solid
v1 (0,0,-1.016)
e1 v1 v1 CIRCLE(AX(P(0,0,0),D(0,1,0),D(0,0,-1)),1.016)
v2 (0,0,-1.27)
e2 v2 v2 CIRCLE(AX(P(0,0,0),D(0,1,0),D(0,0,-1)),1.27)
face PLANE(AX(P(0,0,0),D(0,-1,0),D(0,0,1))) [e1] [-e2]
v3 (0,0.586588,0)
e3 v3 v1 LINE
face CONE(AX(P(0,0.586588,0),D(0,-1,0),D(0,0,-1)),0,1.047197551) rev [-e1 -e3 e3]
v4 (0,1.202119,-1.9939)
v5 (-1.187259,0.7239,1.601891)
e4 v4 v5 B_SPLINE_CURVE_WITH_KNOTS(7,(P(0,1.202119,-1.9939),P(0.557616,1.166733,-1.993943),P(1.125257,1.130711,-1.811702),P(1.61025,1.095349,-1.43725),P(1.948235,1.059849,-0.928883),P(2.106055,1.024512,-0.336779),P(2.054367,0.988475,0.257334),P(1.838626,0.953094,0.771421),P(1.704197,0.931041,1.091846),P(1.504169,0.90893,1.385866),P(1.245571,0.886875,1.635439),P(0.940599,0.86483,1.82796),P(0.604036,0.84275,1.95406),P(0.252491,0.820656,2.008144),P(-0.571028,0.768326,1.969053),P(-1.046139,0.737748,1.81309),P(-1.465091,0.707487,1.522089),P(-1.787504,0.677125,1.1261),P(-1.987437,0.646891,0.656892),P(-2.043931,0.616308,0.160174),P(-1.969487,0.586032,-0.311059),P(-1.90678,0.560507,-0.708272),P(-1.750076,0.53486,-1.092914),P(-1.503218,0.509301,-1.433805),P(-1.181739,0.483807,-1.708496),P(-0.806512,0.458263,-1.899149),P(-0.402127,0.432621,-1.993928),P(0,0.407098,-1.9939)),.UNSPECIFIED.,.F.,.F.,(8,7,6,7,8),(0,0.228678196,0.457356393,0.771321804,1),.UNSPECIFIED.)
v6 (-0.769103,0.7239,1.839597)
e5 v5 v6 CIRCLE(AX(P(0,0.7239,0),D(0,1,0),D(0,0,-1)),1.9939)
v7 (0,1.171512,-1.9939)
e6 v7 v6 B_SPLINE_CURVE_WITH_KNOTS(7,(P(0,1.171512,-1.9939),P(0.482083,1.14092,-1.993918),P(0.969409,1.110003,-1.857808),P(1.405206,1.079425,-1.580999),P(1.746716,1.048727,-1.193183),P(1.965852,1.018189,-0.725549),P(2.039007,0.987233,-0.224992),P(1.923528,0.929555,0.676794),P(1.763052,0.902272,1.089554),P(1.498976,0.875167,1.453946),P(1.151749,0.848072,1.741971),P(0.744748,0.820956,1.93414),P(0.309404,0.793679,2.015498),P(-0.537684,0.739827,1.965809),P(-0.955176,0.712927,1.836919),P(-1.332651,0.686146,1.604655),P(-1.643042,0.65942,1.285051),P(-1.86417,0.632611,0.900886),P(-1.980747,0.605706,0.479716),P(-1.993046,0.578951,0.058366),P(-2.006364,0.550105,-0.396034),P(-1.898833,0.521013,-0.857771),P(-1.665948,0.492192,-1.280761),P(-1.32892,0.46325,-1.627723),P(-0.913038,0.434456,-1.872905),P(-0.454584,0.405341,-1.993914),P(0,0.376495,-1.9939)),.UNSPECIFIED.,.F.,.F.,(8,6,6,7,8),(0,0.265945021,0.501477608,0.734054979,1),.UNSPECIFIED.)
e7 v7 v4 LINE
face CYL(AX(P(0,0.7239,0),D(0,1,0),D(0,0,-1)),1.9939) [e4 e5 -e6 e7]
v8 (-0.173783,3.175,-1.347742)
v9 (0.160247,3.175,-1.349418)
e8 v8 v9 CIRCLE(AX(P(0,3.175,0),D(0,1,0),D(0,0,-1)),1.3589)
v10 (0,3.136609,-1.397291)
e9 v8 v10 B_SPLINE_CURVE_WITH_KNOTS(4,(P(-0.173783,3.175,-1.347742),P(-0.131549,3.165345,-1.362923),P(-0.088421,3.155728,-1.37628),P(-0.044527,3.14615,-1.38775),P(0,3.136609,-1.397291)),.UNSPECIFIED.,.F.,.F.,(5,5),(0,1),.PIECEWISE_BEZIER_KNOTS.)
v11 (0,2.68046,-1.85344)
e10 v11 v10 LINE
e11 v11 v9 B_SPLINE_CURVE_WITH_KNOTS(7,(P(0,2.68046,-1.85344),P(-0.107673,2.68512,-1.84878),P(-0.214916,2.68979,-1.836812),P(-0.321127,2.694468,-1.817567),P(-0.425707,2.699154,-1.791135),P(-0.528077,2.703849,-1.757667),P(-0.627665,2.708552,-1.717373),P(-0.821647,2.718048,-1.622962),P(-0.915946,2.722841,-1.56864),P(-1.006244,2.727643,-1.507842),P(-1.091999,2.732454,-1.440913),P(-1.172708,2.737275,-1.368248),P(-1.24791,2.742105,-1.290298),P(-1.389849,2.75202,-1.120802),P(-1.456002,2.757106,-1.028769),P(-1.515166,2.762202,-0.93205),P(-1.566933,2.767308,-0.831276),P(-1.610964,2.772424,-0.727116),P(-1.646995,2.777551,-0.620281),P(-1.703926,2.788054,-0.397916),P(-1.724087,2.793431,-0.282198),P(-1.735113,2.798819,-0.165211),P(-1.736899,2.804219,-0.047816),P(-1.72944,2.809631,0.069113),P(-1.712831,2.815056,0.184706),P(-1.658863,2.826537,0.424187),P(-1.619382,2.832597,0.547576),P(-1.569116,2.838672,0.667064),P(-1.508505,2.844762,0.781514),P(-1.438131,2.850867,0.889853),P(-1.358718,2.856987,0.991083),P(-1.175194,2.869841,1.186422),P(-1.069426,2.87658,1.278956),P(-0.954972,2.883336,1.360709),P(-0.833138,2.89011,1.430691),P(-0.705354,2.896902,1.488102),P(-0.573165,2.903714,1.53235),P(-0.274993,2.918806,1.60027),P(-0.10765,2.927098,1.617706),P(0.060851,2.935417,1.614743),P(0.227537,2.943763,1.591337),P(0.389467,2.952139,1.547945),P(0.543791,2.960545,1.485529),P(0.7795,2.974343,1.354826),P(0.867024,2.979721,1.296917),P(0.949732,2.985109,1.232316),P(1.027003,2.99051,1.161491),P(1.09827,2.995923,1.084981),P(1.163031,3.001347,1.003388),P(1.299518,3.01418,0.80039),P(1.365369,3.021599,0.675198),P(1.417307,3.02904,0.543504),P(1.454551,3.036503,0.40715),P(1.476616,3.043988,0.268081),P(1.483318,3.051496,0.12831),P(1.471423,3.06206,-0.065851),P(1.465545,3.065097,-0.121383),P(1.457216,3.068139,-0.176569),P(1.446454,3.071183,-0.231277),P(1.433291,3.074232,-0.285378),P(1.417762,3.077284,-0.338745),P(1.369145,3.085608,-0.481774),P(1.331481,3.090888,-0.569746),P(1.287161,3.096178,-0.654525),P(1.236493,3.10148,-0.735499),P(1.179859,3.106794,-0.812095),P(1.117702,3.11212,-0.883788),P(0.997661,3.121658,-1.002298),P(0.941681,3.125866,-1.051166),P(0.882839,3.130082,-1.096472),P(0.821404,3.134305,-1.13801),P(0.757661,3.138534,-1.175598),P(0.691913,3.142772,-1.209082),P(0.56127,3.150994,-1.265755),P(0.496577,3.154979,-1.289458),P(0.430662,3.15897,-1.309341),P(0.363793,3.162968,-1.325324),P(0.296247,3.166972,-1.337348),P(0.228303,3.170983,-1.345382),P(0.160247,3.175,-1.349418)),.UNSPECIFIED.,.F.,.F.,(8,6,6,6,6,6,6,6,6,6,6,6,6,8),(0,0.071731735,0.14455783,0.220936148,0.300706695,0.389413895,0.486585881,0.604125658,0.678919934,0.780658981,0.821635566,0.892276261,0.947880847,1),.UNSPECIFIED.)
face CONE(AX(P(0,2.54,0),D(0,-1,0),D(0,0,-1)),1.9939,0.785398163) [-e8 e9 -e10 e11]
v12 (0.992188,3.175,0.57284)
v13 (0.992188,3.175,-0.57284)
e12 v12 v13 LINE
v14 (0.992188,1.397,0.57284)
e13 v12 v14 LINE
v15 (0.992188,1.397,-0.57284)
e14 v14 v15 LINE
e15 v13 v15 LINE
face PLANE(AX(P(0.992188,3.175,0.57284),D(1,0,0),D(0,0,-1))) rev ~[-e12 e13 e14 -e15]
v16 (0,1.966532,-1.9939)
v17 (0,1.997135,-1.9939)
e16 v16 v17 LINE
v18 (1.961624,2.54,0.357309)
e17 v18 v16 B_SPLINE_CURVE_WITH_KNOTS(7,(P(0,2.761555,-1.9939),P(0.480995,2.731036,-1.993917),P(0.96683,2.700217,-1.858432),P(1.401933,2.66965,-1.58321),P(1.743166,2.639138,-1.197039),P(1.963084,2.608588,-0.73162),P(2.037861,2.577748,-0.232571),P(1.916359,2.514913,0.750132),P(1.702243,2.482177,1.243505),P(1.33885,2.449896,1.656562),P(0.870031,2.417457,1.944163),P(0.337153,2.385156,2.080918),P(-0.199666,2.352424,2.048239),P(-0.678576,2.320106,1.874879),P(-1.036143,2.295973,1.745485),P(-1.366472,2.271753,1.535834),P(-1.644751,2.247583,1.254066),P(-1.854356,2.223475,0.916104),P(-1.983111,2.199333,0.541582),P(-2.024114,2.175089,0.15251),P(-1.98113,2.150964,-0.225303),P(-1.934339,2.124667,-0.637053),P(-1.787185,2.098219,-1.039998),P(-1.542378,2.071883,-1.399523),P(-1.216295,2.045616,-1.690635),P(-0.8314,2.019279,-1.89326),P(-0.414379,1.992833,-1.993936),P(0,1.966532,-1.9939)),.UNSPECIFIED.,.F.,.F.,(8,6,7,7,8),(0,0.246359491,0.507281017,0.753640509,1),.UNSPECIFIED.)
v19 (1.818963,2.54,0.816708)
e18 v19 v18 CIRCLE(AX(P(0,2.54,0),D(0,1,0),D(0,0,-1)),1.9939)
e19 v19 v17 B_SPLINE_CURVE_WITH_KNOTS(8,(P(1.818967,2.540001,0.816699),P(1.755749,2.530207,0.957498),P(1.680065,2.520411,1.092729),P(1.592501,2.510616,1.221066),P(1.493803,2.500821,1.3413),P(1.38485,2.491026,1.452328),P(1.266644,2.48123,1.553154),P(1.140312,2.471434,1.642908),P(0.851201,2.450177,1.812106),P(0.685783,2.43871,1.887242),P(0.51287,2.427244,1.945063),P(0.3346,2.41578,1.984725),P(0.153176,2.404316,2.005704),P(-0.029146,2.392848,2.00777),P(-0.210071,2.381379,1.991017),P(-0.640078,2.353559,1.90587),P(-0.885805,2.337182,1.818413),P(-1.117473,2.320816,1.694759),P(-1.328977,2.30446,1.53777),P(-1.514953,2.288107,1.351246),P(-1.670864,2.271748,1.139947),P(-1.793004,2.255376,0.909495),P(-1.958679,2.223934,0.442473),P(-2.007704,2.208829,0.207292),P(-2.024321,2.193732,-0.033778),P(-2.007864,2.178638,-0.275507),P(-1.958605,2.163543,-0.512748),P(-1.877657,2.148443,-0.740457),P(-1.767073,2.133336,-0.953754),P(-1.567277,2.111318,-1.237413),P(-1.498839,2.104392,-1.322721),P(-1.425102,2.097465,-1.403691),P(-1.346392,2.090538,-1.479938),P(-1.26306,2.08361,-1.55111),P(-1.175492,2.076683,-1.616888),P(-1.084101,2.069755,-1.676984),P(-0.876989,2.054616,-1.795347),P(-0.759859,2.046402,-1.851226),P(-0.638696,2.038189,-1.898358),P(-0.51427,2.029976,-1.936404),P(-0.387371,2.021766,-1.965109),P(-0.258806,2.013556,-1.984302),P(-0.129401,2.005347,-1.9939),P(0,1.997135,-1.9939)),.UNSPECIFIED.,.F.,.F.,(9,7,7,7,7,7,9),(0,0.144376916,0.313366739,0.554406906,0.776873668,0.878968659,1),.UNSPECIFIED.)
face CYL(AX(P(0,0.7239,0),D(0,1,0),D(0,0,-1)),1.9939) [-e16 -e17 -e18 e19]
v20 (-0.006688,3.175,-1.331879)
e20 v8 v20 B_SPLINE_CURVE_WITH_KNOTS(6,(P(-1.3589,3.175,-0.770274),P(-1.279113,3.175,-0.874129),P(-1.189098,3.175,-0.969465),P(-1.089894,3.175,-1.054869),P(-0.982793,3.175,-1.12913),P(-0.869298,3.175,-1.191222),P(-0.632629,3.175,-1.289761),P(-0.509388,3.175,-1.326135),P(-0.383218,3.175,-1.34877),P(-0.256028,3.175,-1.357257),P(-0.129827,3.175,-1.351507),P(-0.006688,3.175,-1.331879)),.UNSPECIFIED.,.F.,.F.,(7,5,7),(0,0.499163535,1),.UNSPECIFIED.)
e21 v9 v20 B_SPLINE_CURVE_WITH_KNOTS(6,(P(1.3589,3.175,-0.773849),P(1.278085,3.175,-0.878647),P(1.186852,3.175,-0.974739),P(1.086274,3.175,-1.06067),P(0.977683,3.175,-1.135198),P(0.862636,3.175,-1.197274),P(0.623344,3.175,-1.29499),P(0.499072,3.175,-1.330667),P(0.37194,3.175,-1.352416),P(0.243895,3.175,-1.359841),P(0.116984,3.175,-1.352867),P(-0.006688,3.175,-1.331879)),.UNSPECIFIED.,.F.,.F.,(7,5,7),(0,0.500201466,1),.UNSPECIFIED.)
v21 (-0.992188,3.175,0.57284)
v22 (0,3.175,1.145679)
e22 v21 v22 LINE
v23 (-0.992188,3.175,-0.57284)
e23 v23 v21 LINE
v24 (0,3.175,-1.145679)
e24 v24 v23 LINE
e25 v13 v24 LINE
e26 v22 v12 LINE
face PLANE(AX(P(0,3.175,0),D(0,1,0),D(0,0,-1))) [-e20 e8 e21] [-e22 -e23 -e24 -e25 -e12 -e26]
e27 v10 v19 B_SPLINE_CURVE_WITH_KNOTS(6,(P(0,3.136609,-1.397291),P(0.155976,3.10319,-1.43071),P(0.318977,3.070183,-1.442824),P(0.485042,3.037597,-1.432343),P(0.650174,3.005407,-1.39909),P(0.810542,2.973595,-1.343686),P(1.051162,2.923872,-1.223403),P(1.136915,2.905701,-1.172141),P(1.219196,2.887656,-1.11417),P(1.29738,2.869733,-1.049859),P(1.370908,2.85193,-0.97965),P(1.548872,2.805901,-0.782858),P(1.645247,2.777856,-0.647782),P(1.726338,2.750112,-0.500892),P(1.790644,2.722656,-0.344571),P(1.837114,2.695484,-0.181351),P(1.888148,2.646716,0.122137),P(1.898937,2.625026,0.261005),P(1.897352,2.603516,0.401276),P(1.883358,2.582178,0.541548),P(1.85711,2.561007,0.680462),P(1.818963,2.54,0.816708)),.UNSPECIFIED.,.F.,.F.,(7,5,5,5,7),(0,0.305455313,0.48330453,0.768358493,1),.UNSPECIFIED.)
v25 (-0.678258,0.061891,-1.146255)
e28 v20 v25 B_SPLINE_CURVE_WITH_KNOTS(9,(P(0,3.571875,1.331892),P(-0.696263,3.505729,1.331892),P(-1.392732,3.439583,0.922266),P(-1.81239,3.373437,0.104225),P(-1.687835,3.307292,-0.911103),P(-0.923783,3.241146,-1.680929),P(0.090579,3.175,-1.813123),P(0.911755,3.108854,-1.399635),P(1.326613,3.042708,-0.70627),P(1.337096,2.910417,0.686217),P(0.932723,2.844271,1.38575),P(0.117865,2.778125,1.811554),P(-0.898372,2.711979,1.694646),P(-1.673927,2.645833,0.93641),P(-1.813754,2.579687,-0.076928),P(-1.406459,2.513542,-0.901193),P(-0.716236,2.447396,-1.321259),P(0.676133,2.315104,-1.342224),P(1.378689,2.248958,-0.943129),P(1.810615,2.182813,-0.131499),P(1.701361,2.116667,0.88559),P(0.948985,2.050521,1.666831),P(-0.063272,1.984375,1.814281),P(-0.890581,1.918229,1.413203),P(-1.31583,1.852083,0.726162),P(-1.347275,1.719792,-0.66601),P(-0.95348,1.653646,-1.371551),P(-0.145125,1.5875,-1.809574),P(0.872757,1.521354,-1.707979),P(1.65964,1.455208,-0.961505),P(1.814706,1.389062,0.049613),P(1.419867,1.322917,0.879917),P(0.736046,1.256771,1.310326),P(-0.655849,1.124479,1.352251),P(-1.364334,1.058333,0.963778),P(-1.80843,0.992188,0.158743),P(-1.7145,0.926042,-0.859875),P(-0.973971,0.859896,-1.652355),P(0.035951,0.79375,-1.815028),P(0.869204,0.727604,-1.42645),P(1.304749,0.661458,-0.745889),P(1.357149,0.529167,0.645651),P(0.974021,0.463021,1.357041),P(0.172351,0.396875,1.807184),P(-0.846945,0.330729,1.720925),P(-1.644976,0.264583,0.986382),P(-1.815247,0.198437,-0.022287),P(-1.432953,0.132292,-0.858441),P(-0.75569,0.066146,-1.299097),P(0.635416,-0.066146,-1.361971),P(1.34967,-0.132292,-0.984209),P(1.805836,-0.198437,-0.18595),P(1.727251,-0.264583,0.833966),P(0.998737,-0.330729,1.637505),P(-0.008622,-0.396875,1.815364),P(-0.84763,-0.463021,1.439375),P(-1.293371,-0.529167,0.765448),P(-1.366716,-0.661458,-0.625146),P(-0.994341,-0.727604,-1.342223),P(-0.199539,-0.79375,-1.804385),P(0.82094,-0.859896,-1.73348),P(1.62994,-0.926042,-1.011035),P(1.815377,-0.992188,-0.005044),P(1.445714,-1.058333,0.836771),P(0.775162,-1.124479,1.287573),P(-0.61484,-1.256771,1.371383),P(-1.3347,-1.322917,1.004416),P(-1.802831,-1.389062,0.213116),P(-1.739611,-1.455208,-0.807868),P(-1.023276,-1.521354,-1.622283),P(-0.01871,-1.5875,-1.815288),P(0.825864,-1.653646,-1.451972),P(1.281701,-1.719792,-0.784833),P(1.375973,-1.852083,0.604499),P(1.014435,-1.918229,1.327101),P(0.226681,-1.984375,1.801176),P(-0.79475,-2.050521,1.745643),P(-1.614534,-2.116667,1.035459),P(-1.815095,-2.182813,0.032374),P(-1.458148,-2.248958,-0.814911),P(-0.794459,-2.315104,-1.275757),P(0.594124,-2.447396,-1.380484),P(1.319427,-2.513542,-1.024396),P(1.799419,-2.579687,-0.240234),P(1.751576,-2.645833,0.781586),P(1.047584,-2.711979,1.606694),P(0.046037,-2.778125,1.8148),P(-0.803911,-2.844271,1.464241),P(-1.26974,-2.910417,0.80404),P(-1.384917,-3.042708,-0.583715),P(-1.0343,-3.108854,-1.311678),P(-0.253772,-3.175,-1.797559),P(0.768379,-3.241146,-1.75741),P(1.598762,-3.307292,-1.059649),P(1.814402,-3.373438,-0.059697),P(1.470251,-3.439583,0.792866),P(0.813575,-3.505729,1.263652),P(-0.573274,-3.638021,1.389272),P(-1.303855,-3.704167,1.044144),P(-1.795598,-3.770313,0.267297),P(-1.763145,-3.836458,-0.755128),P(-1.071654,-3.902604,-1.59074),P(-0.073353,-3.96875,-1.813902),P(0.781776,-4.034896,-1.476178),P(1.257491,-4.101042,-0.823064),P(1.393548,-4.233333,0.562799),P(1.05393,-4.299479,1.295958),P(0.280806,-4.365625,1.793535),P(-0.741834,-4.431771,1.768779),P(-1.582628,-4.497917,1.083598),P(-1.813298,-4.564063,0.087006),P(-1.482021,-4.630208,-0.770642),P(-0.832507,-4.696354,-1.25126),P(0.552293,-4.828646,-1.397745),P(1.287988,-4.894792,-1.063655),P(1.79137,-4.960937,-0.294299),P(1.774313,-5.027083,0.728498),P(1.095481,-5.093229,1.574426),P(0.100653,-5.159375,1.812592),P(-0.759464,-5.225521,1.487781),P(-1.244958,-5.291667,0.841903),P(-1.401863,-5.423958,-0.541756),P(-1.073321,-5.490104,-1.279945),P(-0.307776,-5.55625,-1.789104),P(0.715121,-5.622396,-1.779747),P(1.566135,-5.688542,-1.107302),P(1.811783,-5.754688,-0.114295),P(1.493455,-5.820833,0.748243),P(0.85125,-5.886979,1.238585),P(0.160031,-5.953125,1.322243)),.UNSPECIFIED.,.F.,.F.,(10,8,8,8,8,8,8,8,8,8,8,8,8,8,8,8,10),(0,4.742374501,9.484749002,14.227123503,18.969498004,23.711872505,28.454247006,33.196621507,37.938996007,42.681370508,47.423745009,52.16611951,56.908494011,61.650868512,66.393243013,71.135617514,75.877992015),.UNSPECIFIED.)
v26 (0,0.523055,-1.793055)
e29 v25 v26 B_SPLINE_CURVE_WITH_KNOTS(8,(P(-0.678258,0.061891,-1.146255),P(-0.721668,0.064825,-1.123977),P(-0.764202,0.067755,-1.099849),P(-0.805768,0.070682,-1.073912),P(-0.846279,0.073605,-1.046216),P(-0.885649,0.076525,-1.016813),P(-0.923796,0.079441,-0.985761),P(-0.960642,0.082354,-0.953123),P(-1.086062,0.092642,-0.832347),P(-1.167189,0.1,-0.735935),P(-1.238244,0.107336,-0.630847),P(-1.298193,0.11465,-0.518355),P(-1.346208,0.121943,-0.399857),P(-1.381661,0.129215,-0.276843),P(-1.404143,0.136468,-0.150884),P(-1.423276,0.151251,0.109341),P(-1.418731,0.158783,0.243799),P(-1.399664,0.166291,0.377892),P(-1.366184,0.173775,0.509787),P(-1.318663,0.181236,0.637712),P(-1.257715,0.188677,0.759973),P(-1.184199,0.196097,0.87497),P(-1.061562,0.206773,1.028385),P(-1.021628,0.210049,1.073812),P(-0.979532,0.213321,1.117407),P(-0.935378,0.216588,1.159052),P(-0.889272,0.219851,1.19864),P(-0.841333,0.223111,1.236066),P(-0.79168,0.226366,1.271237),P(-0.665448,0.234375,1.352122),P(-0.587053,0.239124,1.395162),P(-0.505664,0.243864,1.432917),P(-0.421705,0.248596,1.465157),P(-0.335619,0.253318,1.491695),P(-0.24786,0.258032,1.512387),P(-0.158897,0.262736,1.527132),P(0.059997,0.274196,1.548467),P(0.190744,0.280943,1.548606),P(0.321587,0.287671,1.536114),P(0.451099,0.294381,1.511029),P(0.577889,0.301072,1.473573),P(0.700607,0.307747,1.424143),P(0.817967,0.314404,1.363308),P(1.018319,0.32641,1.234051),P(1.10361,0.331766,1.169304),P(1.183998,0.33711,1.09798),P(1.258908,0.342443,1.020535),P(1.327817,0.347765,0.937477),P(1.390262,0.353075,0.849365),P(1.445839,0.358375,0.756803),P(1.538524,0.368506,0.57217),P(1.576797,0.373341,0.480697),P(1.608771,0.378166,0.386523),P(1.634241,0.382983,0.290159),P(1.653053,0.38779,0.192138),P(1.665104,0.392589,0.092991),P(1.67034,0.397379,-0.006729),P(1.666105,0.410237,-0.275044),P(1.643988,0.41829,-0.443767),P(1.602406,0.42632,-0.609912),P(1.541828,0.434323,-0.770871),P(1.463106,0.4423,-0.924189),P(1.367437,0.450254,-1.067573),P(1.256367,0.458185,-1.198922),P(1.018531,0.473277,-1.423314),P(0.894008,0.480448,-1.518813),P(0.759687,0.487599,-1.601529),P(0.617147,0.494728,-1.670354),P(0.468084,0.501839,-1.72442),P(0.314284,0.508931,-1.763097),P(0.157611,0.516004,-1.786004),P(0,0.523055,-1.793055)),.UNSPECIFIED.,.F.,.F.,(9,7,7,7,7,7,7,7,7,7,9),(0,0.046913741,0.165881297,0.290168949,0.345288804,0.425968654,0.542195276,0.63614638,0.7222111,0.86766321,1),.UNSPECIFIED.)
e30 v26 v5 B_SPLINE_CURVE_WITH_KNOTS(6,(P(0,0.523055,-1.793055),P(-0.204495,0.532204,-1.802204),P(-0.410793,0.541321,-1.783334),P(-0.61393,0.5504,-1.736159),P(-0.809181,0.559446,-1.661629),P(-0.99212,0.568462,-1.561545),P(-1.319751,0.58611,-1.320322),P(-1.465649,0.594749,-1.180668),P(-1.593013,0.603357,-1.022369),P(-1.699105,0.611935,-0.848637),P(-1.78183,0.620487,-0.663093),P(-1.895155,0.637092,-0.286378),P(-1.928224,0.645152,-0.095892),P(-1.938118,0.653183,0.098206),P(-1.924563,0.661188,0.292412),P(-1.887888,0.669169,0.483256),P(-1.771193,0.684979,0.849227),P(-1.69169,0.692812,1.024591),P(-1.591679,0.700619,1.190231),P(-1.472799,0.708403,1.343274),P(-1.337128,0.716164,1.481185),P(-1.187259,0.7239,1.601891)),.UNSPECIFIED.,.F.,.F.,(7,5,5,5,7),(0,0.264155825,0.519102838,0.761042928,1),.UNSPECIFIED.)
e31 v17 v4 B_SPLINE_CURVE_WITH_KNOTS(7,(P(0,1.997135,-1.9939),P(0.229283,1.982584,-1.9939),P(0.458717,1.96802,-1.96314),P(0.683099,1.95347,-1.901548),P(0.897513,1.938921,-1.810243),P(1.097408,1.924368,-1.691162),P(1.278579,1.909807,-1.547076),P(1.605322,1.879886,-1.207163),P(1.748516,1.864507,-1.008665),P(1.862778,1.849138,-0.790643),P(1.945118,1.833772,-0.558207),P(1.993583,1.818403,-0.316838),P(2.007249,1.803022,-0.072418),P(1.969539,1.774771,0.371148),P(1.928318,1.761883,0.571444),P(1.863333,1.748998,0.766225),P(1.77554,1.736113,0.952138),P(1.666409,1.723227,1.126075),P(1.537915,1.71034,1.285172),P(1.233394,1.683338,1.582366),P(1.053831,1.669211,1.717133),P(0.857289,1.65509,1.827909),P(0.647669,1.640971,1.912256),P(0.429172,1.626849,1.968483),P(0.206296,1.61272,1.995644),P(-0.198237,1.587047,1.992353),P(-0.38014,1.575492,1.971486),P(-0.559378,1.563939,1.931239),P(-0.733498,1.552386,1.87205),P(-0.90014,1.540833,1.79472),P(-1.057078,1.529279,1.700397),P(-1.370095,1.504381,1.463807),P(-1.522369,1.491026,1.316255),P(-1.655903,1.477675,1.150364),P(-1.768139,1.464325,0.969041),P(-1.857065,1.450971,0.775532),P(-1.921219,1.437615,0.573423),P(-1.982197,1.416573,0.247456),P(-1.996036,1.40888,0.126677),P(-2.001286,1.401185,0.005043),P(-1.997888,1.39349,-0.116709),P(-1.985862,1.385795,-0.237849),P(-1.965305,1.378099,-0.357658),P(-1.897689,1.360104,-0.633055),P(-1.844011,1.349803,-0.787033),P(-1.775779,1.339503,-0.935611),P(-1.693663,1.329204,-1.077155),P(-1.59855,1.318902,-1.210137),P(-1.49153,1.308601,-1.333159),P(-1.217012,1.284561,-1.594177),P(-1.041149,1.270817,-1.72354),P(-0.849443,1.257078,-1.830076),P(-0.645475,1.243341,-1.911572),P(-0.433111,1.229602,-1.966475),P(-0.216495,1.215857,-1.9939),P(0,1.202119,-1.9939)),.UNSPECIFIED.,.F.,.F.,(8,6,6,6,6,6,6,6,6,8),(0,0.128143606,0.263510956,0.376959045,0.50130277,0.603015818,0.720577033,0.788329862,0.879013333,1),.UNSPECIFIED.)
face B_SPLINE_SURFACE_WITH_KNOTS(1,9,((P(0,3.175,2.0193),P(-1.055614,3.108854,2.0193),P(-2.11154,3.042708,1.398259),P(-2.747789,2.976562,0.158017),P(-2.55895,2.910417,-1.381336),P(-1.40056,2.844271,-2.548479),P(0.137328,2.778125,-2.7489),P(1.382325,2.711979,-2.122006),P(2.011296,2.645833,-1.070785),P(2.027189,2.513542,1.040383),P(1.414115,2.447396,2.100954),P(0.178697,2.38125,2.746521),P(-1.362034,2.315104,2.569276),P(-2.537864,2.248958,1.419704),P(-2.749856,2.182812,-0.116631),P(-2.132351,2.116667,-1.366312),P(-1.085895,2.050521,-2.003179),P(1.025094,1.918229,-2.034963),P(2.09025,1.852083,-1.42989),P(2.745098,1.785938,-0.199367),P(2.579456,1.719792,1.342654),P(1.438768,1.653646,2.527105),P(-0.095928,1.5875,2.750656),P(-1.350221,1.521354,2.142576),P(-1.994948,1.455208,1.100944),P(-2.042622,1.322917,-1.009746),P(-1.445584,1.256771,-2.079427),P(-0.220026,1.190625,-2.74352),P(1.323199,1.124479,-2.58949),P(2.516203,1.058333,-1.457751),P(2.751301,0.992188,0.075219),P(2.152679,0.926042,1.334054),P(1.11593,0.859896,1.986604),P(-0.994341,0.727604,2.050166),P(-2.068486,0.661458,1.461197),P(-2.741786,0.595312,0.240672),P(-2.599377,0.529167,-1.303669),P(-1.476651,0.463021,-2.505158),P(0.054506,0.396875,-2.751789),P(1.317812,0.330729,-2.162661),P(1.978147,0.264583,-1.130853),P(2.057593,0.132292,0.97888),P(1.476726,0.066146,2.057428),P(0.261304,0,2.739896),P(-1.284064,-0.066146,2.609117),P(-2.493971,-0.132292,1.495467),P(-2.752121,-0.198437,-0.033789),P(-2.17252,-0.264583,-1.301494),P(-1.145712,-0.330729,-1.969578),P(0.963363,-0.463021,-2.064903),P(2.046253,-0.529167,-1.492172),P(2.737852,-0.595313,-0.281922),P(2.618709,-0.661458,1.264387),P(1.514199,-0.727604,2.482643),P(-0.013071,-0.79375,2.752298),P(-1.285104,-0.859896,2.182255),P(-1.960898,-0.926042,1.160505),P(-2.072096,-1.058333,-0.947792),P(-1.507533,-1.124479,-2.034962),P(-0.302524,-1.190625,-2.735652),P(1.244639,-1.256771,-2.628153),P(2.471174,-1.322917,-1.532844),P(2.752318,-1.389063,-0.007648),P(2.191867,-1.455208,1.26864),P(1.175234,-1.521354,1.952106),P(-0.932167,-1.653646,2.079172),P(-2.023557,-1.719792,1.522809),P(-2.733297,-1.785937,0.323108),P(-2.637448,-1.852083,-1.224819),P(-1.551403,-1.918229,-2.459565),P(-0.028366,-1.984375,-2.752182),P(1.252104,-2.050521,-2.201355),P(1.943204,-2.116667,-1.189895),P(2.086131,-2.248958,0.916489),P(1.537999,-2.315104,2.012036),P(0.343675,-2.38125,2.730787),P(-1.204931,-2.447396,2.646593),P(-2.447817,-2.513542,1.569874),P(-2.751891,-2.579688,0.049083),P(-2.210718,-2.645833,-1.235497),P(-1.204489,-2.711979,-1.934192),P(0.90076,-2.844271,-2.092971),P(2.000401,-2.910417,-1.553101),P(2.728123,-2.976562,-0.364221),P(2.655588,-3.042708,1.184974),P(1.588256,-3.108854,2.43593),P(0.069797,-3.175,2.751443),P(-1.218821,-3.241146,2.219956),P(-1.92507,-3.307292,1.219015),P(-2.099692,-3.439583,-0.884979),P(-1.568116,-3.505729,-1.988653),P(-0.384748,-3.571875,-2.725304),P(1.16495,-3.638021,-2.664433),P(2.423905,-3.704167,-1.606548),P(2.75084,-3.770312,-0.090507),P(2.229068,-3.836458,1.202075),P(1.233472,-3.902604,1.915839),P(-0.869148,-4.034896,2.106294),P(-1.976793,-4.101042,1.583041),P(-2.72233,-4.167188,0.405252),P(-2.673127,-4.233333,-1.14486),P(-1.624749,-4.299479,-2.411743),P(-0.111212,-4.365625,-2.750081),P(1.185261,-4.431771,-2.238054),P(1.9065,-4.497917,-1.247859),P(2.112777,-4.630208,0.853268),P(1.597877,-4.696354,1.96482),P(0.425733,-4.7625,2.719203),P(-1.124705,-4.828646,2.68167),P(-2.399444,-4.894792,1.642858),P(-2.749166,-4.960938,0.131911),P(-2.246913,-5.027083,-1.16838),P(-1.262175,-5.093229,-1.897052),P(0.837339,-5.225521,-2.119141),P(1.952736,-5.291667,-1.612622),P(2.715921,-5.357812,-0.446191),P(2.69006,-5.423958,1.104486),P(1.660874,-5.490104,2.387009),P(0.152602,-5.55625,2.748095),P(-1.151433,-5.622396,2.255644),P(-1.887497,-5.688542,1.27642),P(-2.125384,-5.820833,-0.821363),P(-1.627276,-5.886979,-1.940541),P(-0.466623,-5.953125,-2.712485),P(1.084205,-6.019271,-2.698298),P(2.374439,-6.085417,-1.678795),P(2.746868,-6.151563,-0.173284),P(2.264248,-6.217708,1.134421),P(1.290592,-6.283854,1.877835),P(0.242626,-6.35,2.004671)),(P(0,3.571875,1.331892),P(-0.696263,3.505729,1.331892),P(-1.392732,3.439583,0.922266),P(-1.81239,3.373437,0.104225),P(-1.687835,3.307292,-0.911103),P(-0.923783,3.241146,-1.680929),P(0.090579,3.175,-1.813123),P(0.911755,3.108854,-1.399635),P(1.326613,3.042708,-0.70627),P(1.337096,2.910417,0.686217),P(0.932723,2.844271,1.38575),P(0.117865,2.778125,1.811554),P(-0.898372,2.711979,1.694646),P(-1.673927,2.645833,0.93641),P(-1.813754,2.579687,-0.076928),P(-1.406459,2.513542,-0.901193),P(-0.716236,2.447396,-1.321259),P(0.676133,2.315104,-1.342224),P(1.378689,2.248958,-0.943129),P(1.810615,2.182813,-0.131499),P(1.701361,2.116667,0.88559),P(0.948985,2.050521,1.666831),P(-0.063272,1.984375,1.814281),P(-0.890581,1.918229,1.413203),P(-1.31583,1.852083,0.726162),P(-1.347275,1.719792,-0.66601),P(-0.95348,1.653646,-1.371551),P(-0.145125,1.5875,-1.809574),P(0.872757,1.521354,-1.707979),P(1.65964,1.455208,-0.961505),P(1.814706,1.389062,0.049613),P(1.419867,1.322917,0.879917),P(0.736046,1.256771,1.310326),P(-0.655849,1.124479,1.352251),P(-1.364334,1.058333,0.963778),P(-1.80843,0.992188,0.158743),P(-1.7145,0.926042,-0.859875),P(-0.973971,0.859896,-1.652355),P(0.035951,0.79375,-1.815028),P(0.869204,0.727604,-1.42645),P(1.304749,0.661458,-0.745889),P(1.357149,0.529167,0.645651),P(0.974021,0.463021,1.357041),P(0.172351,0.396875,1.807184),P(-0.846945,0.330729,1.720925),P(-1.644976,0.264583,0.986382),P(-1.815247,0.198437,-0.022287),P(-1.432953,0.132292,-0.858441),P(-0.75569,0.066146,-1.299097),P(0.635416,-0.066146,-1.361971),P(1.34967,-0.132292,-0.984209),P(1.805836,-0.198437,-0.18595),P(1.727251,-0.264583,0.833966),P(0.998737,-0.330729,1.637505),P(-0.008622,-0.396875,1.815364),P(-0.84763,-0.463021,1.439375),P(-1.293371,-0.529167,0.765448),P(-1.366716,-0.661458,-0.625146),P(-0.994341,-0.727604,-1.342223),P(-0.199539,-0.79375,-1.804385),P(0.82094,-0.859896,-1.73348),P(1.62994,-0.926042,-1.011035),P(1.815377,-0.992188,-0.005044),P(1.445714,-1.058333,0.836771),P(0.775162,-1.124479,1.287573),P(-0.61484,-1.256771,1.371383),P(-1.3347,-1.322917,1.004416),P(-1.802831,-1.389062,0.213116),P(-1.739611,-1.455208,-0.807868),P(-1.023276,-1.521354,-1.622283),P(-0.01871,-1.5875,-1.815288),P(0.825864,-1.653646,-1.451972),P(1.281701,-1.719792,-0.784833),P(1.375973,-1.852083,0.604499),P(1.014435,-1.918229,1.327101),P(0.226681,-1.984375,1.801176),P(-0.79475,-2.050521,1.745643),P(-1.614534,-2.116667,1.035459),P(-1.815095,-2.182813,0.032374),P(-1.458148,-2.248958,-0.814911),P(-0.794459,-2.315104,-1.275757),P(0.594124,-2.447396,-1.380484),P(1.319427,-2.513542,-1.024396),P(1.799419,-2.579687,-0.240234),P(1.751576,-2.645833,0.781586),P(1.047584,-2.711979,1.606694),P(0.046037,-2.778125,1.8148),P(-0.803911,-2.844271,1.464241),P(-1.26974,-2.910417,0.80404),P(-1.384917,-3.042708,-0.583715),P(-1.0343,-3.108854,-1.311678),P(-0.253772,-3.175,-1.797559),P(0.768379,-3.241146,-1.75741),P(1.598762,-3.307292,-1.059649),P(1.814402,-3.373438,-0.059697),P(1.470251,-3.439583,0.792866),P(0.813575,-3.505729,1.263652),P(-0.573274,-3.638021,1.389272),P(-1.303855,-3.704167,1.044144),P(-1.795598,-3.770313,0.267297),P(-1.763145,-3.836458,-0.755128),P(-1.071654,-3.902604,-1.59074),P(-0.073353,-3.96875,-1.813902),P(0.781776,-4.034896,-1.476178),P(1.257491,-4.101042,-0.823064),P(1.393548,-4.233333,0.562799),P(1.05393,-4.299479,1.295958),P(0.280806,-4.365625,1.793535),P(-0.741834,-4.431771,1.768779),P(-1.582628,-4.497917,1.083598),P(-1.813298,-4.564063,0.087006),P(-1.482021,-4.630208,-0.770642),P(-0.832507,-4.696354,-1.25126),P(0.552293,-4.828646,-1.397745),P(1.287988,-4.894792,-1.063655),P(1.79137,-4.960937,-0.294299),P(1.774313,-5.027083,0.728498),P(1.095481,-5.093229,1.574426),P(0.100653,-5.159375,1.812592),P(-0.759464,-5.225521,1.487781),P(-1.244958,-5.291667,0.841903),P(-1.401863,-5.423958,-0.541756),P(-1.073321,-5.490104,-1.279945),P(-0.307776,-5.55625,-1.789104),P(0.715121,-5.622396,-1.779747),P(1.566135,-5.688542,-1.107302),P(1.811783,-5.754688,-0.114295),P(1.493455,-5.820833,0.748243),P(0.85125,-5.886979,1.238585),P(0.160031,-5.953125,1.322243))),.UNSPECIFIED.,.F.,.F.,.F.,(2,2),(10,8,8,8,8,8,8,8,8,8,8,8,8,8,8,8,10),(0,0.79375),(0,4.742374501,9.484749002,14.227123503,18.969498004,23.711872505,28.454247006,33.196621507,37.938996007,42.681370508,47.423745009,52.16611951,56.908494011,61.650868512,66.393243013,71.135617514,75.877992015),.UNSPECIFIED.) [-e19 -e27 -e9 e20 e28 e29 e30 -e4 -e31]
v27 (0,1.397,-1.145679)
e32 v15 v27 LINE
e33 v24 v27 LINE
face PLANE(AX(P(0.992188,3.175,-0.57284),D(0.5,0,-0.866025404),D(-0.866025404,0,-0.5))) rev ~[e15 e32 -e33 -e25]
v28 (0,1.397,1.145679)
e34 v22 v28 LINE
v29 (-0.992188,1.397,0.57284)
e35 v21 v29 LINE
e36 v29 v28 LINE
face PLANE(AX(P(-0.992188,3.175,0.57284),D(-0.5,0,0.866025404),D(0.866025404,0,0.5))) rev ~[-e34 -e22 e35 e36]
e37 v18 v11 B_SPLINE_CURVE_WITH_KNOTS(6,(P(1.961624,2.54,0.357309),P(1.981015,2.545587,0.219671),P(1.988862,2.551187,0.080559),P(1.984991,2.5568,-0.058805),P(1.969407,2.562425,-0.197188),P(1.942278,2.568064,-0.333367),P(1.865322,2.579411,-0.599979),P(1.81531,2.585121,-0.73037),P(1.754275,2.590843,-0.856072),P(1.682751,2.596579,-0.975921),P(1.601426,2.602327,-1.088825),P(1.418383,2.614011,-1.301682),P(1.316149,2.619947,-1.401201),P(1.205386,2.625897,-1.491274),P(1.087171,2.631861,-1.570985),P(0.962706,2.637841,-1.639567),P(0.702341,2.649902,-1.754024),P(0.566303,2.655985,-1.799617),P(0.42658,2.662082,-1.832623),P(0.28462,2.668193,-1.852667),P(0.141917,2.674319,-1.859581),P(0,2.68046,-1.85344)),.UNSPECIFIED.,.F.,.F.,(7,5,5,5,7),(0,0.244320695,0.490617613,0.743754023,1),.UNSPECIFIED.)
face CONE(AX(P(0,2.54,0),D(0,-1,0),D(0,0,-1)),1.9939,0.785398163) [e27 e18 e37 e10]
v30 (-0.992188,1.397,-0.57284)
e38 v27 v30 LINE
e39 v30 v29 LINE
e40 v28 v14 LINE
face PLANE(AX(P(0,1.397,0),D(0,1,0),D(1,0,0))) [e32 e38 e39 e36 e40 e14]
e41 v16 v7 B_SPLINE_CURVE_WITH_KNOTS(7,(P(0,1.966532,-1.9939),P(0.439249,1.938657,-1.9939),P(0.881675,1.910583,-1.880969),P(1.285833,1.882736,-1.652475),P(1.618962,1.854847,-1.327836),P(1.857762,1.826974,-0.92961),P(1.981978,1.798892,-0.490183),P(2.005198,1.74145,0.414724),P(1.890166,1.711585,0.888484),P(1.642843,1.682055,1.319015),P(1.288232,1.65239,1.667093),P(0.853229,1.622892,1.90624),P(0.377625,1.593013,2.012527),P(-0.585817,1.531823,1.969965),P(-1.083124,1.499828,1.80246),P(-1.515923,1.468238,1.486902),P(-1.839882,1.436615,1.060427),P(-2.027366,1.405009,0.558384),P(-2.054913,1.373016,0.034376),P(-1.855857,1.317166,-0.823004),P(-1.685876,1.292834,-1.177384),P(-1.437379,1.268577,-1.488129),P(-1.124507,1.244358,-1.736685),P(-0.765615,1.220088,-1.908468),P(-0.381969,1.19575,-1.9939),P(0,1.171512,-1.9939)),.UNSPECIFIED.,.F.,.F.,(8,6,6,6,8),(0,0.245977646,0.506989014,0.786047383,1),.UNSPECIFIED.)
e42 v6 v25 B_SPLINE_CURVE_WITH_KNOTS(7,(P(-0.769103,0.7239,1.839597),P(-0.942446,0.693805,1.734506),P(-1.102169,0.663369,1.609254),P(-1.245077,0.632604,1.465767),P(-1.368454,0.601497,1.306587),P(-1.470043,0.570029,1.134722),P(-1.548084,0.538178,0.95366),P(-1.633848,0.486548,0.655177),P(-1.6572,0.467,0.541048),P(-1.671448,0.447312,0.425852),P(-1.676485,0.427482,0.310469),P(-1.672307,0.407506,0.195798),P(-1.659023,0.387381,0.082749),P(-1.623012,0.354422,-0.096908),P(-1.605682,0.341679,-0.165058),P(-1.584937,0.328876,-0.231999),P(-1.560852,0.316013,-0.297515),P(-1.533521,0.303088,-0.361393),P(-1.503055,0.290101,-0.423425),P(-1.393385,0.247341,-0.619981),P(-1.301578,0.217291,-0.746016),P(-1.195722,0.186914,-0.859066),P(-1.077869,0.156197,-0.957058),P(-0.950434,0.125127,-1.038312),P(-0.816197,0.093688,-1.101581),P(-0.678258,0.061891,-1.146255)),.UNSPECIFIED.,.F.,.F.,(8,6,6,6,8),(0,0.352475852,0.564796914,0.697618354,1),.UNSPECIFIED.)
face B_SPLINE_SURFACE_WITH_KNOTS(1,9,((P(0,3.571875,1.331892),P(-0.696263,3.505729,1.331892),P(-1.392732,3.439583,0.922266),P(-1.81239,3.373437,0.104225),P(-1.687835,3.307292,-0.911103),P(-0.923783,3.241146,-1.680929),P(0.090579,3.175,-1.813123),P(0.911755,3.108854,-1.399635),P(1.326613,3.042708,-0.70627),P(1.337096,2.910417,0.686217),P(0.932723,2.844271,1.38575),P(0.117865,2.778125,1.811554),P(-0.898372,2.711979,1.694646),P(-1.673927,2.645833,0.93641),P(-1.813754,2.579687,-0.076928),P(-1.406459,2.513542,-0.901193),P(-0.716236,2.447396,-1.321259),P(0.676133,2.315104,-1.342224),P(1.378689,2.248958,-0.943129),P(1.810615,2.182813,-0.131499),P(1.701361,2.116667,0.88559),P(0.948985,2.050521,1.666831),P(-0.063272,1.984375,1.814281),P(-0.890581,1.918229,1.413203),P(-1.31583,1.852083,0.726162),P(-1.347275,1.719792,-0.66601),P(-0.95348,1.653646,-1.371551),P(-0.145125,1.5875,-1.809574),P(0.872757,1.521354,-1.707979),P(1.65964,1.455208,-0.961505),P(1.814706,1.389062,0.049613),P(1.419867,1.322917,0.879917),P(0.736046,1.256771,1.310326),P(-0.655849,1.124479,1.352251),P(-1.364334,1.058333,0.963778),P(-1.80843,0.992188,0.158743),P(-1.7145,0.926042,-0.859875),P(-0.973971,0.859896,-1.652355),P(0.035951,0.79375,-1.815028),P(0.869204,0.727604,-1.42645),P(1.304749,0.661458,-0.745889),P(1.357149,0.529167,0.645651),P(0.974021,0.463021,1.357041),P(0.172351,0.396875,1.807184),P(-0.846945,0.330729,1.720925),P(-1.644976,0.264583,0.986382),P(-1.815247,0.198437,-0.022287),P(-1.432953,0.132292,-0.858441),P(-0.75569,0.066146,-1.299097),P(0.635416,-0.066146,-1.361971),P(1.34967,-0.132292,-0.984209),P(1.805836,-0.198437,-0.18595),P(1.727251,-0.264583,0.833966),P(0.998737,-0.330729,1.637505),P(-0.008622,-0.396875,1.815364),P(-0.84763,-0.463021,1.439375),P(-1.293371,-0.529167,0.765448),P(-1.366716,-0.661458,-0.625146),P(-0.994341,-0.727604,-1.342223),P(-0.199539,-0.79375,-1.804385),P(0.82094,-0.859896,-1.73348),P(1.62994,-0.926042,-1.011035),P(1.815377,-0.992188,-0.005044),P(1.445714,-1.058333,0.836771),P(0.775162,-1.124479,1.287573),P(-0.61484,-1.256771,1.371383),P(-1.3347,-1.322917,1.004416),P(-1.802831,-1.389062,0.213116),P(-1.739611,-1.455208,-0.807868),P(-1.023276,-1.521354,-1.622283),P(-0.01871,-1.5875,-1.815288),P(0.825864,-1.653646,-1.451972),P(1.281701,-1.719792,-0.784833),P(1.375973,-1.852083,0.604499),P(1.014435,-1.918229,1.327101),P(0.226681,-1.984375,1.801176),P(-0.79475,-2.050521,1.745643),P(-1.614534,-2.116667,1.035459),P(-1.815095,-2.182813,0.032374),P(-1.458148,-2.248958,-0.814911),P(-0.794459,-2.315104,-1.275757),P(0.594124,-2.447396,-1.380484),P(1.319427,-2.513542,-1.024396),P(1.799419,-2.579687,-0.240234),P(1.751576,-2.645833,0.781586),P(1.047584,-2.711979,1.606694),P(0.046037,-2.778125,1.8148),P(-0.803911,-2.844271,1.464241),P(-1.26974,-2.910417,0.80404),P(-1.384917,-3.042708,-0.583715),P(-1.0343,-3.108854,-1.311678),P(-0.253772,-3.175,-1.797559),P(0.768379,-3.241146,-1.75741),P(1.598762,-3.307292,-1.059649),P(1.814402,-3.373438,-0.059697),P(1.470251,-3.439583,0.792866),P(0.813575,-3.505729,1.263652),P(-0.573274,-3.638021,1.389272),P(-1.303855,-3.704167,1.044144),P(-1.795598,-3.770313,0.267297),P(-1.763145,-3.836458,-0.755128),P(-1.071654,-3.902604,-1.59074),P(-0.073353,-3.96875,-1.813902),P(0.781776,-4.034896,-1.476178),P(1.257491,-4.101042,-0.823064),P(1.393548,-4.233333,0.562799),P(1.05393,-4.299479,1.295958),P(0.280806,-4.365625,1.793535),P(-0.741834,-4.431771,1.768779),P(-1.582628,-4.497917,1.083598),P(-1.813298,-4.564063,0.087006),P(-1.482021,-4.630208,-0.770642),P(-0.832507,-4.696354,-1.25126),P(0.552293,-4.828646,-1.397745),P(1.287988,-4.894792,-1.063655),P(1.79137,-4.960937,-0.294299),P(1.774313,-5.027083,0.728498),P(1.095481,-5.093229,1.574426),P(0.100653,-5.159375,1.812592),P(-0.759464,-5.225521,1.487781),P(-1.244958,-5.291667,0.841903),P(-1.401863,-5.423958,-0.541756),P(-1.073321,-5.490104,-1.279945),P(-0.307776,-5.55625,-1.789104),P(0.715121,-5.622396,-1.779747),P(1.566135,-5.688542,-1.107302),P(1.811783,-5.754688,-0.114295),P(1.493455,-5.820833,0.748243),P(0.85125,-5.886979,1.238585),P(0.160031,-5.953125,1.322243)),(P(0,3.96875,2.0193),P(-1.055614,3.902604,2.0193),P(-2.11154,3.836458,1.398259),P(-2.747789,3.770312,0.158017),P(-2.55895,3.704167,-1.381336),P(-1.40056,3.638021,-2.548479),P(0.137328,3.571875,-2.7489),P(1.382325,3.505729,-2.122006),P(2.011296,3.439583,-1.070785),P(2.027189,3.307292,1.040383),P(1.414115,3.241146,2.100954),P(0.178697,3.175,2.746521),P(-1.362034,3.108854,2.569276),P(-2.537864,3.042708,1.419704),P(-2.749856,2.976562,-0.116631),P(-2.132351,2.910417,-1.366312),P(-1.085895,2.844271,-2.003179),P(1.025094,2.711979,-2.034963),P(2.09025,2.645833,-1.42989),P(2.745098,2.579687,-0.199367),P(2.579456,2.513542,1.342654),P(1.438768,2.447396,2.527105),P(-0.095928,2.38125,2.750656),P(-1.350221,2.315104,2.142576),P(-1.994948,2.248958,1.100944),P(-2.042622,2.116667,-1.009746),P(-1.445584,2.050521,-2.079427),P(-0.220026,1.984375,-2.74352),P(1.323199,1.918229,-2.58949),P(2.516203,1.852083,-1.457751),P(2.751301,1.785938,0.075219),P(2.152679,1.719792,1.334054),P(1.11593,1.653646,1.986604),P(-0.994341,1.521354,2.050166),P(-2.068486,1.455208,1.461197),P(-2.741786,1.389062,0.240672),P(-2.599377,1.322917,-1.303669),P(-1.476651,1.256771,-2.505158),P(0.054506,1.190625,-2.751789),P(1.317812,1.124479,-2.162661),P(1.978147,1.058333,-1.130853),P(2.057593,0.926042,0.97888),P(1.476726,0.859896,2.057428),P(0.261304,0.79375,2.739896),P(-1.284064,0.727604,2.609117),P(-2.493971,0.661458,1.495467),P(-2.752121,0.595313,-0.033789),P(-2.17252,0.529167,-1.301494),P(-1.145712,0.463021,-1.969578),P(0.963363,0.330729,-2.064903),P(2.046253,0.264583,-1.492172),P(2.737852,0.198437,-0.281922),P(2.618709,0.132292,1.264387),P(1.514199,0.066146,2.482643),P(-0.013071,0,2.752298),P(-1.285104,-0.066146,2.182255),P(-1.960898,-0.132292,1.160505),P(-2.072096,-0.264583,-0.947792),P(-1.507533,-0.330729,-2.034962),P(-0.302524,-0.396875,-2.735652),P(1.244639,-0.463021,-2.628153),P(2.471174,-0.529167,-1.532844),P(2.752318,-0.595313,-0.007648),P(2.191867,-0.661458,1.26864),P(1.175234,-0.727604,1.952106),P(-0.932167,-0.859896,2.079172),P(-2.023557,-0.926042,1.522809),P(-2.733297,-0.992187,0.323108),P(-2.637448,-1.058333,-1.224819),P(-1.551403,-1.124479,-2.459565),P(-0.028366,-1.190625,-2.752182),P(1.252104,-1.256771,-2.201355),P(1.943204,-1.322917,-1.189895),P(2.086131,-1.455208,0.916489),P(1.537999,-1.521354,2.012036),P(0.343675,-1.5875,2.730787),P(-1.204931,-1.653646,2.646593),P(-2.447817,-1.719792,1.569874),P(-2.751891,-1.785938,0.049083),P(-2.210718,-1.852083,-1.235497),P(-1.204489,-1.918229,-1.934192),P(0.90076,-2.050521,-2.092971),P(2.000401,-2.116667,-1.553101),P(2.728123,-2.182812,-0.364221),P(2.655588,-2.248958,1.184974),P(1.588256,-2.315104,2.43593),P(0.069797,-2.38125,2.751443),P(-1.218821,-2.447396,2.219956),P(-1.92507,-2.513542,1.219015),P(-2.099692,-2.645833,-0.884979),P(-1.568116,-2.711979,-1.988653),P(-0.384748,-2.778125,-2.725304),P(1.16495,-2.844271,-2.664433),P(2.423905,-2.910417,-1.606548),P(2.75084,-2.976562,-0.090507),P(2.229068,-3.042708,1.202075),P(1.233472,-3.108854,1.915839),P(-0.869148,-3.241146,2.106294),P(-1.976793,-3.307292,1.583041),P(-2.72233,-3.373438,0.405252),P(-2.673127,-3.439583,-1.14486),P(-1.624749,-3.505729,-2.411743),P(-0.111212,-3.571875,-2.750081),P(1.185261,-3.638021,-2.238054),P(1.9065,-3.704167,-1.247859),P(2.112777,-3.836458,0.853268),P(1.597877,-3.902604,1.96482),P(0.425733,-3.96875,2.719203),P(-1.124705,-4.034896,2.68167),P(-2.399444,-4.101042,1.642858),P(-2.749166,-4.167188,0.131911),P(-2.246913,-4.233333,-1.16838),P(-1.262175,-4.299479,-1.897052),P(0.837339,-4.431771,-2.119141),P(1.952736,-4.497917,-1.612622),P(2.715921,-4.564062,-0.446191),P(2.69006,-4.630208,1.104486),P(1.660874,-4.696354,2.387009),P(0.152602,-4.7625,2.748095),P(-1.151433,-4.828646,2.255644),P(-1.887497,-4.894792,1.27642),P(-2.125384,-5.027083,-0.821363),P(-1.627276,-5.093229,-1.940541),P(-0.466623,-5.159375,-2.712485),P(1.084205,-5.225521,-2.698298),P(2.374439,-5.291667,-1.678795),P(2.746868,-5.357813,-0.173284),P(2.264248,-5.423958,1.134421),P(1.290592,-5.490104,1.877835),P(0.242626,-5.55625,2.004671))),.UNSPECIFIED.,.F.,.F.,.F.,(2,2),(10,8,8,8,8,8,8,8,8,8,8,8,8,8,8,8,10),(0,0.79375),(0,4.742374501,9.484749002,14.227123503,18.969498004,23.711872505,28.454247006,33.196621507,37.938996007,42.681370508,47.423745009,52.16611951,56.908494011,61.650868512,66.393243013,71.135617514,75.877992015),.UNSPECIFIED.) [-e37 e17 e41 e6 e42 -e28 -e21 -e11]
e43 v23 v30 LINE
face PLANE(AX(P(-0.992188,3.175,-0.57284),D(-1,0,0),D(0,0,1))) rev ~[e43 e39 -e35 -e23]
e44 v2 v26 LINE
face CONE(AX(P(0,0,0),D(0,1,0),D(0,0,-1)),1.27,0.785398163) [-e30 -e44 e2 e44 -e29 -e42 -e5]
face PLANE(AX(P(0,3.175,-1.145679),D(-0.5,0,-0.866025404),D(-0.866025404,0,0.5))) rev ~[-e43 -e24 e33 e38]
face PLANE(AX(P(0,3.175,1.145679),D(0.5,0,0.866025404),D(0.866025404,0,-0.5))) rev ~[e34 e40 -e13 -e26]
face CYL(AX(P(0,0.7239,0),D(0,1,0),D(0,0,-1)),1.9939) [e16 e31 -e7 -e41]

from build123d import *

# Parameters (mm, degrees)
CUT_EXTRUDE1_DEPTH     = 1.778
CUT_SWEEP3_PITCH       = 0.7950199999999968
CUT_SWEEP3_HEIGHT      = 9.525000000000002
CUT_SWEEP3_RADIUS      = 1.9938999999999998
CUT_SWEEP3_START_ANGLE = -180


with BuildPart() as part:
    # Sketch1 → Revolve1 (revolve)
    with BuildSketch(Plane.XY, mode=Mode.PRIVATE) as revolve1_sk:
        Polygon((0, 0.5865878734966664), (-1.016, 2e-17), (-1.2699999999999998, -2e-17), (-1.9938999999999998, 0.7239000000000022), (-1.9938999999999998, 2.5400000000000014), (-1.3588999999999998, 3.175), (7e-17, 3.175), align=None)
    revolve(revolve1_sk.sketch.rotate(Axis((0, 0, 0), (0, 1, 0)), 270), axis=Axis((0, 0, 0), (0, 1, 0)))

    # Sketch2 → Cut-Extrude1 (cut)
    with BuildSketch(Plane(origin=(0, 3.175, 0), x_dir=(1, 0, 0), z_dir=(0, 1, 0))):
        Polygon((-2.2e-16, 1.145679440423164), (-0.9921875000000002, 0.5728397202115824), (-0.9921875000000002, -0.5728397202115817), (-2.4e-16, -1.1456794404231636), (0.9921875, -0.5728397202115821), (0.9921874999999996, 0.5728397202115822), align=None)
    extrude(amount=-CUT_EXTRUDE1_DEPTH, mode=Mode.SUBTRACT)

    # Cut-Sweep3: sweep along a helix
    with BuildLine() as cut_sweep3_path:
        add(Helix(CUT_SWEEP3_PITCH, CUT_SWEEP3_HEIGHT, CUT_SWEEP3_RADIUS, center=(0, 3.175, 0), direction=(0, -1, 0), mode=Mode.PRIVATE).rotate(Axis((0, 3.175, 0), (0, -1, 0)), CUT_SWEEP3_START_ANGLE))
    with BuildLine() as cut_sweep3_axis:
        Line((0, 3.175, 0), (0, -6.350000000000002, 0))
    # Sketch4 → Cut-Sweep3 (sweep, cut)
    with BuildSketch(Plane(origin=(0, 0, 0), x_dir=(0, 0, -1), z_dir=(1, 0, 0))):
        Polygon((-2.0192999999999994, 3.968749999999999), (-2.0192999999999994, 3.175), (-1.3318923357460979, 3.5718749999999995), align=None)
    sweep(path=cut_sweep3_path.line, binormal=cut_sweep3_axis.edges()[0], mode=Mode.SUBTRACT)


solid = part.part
